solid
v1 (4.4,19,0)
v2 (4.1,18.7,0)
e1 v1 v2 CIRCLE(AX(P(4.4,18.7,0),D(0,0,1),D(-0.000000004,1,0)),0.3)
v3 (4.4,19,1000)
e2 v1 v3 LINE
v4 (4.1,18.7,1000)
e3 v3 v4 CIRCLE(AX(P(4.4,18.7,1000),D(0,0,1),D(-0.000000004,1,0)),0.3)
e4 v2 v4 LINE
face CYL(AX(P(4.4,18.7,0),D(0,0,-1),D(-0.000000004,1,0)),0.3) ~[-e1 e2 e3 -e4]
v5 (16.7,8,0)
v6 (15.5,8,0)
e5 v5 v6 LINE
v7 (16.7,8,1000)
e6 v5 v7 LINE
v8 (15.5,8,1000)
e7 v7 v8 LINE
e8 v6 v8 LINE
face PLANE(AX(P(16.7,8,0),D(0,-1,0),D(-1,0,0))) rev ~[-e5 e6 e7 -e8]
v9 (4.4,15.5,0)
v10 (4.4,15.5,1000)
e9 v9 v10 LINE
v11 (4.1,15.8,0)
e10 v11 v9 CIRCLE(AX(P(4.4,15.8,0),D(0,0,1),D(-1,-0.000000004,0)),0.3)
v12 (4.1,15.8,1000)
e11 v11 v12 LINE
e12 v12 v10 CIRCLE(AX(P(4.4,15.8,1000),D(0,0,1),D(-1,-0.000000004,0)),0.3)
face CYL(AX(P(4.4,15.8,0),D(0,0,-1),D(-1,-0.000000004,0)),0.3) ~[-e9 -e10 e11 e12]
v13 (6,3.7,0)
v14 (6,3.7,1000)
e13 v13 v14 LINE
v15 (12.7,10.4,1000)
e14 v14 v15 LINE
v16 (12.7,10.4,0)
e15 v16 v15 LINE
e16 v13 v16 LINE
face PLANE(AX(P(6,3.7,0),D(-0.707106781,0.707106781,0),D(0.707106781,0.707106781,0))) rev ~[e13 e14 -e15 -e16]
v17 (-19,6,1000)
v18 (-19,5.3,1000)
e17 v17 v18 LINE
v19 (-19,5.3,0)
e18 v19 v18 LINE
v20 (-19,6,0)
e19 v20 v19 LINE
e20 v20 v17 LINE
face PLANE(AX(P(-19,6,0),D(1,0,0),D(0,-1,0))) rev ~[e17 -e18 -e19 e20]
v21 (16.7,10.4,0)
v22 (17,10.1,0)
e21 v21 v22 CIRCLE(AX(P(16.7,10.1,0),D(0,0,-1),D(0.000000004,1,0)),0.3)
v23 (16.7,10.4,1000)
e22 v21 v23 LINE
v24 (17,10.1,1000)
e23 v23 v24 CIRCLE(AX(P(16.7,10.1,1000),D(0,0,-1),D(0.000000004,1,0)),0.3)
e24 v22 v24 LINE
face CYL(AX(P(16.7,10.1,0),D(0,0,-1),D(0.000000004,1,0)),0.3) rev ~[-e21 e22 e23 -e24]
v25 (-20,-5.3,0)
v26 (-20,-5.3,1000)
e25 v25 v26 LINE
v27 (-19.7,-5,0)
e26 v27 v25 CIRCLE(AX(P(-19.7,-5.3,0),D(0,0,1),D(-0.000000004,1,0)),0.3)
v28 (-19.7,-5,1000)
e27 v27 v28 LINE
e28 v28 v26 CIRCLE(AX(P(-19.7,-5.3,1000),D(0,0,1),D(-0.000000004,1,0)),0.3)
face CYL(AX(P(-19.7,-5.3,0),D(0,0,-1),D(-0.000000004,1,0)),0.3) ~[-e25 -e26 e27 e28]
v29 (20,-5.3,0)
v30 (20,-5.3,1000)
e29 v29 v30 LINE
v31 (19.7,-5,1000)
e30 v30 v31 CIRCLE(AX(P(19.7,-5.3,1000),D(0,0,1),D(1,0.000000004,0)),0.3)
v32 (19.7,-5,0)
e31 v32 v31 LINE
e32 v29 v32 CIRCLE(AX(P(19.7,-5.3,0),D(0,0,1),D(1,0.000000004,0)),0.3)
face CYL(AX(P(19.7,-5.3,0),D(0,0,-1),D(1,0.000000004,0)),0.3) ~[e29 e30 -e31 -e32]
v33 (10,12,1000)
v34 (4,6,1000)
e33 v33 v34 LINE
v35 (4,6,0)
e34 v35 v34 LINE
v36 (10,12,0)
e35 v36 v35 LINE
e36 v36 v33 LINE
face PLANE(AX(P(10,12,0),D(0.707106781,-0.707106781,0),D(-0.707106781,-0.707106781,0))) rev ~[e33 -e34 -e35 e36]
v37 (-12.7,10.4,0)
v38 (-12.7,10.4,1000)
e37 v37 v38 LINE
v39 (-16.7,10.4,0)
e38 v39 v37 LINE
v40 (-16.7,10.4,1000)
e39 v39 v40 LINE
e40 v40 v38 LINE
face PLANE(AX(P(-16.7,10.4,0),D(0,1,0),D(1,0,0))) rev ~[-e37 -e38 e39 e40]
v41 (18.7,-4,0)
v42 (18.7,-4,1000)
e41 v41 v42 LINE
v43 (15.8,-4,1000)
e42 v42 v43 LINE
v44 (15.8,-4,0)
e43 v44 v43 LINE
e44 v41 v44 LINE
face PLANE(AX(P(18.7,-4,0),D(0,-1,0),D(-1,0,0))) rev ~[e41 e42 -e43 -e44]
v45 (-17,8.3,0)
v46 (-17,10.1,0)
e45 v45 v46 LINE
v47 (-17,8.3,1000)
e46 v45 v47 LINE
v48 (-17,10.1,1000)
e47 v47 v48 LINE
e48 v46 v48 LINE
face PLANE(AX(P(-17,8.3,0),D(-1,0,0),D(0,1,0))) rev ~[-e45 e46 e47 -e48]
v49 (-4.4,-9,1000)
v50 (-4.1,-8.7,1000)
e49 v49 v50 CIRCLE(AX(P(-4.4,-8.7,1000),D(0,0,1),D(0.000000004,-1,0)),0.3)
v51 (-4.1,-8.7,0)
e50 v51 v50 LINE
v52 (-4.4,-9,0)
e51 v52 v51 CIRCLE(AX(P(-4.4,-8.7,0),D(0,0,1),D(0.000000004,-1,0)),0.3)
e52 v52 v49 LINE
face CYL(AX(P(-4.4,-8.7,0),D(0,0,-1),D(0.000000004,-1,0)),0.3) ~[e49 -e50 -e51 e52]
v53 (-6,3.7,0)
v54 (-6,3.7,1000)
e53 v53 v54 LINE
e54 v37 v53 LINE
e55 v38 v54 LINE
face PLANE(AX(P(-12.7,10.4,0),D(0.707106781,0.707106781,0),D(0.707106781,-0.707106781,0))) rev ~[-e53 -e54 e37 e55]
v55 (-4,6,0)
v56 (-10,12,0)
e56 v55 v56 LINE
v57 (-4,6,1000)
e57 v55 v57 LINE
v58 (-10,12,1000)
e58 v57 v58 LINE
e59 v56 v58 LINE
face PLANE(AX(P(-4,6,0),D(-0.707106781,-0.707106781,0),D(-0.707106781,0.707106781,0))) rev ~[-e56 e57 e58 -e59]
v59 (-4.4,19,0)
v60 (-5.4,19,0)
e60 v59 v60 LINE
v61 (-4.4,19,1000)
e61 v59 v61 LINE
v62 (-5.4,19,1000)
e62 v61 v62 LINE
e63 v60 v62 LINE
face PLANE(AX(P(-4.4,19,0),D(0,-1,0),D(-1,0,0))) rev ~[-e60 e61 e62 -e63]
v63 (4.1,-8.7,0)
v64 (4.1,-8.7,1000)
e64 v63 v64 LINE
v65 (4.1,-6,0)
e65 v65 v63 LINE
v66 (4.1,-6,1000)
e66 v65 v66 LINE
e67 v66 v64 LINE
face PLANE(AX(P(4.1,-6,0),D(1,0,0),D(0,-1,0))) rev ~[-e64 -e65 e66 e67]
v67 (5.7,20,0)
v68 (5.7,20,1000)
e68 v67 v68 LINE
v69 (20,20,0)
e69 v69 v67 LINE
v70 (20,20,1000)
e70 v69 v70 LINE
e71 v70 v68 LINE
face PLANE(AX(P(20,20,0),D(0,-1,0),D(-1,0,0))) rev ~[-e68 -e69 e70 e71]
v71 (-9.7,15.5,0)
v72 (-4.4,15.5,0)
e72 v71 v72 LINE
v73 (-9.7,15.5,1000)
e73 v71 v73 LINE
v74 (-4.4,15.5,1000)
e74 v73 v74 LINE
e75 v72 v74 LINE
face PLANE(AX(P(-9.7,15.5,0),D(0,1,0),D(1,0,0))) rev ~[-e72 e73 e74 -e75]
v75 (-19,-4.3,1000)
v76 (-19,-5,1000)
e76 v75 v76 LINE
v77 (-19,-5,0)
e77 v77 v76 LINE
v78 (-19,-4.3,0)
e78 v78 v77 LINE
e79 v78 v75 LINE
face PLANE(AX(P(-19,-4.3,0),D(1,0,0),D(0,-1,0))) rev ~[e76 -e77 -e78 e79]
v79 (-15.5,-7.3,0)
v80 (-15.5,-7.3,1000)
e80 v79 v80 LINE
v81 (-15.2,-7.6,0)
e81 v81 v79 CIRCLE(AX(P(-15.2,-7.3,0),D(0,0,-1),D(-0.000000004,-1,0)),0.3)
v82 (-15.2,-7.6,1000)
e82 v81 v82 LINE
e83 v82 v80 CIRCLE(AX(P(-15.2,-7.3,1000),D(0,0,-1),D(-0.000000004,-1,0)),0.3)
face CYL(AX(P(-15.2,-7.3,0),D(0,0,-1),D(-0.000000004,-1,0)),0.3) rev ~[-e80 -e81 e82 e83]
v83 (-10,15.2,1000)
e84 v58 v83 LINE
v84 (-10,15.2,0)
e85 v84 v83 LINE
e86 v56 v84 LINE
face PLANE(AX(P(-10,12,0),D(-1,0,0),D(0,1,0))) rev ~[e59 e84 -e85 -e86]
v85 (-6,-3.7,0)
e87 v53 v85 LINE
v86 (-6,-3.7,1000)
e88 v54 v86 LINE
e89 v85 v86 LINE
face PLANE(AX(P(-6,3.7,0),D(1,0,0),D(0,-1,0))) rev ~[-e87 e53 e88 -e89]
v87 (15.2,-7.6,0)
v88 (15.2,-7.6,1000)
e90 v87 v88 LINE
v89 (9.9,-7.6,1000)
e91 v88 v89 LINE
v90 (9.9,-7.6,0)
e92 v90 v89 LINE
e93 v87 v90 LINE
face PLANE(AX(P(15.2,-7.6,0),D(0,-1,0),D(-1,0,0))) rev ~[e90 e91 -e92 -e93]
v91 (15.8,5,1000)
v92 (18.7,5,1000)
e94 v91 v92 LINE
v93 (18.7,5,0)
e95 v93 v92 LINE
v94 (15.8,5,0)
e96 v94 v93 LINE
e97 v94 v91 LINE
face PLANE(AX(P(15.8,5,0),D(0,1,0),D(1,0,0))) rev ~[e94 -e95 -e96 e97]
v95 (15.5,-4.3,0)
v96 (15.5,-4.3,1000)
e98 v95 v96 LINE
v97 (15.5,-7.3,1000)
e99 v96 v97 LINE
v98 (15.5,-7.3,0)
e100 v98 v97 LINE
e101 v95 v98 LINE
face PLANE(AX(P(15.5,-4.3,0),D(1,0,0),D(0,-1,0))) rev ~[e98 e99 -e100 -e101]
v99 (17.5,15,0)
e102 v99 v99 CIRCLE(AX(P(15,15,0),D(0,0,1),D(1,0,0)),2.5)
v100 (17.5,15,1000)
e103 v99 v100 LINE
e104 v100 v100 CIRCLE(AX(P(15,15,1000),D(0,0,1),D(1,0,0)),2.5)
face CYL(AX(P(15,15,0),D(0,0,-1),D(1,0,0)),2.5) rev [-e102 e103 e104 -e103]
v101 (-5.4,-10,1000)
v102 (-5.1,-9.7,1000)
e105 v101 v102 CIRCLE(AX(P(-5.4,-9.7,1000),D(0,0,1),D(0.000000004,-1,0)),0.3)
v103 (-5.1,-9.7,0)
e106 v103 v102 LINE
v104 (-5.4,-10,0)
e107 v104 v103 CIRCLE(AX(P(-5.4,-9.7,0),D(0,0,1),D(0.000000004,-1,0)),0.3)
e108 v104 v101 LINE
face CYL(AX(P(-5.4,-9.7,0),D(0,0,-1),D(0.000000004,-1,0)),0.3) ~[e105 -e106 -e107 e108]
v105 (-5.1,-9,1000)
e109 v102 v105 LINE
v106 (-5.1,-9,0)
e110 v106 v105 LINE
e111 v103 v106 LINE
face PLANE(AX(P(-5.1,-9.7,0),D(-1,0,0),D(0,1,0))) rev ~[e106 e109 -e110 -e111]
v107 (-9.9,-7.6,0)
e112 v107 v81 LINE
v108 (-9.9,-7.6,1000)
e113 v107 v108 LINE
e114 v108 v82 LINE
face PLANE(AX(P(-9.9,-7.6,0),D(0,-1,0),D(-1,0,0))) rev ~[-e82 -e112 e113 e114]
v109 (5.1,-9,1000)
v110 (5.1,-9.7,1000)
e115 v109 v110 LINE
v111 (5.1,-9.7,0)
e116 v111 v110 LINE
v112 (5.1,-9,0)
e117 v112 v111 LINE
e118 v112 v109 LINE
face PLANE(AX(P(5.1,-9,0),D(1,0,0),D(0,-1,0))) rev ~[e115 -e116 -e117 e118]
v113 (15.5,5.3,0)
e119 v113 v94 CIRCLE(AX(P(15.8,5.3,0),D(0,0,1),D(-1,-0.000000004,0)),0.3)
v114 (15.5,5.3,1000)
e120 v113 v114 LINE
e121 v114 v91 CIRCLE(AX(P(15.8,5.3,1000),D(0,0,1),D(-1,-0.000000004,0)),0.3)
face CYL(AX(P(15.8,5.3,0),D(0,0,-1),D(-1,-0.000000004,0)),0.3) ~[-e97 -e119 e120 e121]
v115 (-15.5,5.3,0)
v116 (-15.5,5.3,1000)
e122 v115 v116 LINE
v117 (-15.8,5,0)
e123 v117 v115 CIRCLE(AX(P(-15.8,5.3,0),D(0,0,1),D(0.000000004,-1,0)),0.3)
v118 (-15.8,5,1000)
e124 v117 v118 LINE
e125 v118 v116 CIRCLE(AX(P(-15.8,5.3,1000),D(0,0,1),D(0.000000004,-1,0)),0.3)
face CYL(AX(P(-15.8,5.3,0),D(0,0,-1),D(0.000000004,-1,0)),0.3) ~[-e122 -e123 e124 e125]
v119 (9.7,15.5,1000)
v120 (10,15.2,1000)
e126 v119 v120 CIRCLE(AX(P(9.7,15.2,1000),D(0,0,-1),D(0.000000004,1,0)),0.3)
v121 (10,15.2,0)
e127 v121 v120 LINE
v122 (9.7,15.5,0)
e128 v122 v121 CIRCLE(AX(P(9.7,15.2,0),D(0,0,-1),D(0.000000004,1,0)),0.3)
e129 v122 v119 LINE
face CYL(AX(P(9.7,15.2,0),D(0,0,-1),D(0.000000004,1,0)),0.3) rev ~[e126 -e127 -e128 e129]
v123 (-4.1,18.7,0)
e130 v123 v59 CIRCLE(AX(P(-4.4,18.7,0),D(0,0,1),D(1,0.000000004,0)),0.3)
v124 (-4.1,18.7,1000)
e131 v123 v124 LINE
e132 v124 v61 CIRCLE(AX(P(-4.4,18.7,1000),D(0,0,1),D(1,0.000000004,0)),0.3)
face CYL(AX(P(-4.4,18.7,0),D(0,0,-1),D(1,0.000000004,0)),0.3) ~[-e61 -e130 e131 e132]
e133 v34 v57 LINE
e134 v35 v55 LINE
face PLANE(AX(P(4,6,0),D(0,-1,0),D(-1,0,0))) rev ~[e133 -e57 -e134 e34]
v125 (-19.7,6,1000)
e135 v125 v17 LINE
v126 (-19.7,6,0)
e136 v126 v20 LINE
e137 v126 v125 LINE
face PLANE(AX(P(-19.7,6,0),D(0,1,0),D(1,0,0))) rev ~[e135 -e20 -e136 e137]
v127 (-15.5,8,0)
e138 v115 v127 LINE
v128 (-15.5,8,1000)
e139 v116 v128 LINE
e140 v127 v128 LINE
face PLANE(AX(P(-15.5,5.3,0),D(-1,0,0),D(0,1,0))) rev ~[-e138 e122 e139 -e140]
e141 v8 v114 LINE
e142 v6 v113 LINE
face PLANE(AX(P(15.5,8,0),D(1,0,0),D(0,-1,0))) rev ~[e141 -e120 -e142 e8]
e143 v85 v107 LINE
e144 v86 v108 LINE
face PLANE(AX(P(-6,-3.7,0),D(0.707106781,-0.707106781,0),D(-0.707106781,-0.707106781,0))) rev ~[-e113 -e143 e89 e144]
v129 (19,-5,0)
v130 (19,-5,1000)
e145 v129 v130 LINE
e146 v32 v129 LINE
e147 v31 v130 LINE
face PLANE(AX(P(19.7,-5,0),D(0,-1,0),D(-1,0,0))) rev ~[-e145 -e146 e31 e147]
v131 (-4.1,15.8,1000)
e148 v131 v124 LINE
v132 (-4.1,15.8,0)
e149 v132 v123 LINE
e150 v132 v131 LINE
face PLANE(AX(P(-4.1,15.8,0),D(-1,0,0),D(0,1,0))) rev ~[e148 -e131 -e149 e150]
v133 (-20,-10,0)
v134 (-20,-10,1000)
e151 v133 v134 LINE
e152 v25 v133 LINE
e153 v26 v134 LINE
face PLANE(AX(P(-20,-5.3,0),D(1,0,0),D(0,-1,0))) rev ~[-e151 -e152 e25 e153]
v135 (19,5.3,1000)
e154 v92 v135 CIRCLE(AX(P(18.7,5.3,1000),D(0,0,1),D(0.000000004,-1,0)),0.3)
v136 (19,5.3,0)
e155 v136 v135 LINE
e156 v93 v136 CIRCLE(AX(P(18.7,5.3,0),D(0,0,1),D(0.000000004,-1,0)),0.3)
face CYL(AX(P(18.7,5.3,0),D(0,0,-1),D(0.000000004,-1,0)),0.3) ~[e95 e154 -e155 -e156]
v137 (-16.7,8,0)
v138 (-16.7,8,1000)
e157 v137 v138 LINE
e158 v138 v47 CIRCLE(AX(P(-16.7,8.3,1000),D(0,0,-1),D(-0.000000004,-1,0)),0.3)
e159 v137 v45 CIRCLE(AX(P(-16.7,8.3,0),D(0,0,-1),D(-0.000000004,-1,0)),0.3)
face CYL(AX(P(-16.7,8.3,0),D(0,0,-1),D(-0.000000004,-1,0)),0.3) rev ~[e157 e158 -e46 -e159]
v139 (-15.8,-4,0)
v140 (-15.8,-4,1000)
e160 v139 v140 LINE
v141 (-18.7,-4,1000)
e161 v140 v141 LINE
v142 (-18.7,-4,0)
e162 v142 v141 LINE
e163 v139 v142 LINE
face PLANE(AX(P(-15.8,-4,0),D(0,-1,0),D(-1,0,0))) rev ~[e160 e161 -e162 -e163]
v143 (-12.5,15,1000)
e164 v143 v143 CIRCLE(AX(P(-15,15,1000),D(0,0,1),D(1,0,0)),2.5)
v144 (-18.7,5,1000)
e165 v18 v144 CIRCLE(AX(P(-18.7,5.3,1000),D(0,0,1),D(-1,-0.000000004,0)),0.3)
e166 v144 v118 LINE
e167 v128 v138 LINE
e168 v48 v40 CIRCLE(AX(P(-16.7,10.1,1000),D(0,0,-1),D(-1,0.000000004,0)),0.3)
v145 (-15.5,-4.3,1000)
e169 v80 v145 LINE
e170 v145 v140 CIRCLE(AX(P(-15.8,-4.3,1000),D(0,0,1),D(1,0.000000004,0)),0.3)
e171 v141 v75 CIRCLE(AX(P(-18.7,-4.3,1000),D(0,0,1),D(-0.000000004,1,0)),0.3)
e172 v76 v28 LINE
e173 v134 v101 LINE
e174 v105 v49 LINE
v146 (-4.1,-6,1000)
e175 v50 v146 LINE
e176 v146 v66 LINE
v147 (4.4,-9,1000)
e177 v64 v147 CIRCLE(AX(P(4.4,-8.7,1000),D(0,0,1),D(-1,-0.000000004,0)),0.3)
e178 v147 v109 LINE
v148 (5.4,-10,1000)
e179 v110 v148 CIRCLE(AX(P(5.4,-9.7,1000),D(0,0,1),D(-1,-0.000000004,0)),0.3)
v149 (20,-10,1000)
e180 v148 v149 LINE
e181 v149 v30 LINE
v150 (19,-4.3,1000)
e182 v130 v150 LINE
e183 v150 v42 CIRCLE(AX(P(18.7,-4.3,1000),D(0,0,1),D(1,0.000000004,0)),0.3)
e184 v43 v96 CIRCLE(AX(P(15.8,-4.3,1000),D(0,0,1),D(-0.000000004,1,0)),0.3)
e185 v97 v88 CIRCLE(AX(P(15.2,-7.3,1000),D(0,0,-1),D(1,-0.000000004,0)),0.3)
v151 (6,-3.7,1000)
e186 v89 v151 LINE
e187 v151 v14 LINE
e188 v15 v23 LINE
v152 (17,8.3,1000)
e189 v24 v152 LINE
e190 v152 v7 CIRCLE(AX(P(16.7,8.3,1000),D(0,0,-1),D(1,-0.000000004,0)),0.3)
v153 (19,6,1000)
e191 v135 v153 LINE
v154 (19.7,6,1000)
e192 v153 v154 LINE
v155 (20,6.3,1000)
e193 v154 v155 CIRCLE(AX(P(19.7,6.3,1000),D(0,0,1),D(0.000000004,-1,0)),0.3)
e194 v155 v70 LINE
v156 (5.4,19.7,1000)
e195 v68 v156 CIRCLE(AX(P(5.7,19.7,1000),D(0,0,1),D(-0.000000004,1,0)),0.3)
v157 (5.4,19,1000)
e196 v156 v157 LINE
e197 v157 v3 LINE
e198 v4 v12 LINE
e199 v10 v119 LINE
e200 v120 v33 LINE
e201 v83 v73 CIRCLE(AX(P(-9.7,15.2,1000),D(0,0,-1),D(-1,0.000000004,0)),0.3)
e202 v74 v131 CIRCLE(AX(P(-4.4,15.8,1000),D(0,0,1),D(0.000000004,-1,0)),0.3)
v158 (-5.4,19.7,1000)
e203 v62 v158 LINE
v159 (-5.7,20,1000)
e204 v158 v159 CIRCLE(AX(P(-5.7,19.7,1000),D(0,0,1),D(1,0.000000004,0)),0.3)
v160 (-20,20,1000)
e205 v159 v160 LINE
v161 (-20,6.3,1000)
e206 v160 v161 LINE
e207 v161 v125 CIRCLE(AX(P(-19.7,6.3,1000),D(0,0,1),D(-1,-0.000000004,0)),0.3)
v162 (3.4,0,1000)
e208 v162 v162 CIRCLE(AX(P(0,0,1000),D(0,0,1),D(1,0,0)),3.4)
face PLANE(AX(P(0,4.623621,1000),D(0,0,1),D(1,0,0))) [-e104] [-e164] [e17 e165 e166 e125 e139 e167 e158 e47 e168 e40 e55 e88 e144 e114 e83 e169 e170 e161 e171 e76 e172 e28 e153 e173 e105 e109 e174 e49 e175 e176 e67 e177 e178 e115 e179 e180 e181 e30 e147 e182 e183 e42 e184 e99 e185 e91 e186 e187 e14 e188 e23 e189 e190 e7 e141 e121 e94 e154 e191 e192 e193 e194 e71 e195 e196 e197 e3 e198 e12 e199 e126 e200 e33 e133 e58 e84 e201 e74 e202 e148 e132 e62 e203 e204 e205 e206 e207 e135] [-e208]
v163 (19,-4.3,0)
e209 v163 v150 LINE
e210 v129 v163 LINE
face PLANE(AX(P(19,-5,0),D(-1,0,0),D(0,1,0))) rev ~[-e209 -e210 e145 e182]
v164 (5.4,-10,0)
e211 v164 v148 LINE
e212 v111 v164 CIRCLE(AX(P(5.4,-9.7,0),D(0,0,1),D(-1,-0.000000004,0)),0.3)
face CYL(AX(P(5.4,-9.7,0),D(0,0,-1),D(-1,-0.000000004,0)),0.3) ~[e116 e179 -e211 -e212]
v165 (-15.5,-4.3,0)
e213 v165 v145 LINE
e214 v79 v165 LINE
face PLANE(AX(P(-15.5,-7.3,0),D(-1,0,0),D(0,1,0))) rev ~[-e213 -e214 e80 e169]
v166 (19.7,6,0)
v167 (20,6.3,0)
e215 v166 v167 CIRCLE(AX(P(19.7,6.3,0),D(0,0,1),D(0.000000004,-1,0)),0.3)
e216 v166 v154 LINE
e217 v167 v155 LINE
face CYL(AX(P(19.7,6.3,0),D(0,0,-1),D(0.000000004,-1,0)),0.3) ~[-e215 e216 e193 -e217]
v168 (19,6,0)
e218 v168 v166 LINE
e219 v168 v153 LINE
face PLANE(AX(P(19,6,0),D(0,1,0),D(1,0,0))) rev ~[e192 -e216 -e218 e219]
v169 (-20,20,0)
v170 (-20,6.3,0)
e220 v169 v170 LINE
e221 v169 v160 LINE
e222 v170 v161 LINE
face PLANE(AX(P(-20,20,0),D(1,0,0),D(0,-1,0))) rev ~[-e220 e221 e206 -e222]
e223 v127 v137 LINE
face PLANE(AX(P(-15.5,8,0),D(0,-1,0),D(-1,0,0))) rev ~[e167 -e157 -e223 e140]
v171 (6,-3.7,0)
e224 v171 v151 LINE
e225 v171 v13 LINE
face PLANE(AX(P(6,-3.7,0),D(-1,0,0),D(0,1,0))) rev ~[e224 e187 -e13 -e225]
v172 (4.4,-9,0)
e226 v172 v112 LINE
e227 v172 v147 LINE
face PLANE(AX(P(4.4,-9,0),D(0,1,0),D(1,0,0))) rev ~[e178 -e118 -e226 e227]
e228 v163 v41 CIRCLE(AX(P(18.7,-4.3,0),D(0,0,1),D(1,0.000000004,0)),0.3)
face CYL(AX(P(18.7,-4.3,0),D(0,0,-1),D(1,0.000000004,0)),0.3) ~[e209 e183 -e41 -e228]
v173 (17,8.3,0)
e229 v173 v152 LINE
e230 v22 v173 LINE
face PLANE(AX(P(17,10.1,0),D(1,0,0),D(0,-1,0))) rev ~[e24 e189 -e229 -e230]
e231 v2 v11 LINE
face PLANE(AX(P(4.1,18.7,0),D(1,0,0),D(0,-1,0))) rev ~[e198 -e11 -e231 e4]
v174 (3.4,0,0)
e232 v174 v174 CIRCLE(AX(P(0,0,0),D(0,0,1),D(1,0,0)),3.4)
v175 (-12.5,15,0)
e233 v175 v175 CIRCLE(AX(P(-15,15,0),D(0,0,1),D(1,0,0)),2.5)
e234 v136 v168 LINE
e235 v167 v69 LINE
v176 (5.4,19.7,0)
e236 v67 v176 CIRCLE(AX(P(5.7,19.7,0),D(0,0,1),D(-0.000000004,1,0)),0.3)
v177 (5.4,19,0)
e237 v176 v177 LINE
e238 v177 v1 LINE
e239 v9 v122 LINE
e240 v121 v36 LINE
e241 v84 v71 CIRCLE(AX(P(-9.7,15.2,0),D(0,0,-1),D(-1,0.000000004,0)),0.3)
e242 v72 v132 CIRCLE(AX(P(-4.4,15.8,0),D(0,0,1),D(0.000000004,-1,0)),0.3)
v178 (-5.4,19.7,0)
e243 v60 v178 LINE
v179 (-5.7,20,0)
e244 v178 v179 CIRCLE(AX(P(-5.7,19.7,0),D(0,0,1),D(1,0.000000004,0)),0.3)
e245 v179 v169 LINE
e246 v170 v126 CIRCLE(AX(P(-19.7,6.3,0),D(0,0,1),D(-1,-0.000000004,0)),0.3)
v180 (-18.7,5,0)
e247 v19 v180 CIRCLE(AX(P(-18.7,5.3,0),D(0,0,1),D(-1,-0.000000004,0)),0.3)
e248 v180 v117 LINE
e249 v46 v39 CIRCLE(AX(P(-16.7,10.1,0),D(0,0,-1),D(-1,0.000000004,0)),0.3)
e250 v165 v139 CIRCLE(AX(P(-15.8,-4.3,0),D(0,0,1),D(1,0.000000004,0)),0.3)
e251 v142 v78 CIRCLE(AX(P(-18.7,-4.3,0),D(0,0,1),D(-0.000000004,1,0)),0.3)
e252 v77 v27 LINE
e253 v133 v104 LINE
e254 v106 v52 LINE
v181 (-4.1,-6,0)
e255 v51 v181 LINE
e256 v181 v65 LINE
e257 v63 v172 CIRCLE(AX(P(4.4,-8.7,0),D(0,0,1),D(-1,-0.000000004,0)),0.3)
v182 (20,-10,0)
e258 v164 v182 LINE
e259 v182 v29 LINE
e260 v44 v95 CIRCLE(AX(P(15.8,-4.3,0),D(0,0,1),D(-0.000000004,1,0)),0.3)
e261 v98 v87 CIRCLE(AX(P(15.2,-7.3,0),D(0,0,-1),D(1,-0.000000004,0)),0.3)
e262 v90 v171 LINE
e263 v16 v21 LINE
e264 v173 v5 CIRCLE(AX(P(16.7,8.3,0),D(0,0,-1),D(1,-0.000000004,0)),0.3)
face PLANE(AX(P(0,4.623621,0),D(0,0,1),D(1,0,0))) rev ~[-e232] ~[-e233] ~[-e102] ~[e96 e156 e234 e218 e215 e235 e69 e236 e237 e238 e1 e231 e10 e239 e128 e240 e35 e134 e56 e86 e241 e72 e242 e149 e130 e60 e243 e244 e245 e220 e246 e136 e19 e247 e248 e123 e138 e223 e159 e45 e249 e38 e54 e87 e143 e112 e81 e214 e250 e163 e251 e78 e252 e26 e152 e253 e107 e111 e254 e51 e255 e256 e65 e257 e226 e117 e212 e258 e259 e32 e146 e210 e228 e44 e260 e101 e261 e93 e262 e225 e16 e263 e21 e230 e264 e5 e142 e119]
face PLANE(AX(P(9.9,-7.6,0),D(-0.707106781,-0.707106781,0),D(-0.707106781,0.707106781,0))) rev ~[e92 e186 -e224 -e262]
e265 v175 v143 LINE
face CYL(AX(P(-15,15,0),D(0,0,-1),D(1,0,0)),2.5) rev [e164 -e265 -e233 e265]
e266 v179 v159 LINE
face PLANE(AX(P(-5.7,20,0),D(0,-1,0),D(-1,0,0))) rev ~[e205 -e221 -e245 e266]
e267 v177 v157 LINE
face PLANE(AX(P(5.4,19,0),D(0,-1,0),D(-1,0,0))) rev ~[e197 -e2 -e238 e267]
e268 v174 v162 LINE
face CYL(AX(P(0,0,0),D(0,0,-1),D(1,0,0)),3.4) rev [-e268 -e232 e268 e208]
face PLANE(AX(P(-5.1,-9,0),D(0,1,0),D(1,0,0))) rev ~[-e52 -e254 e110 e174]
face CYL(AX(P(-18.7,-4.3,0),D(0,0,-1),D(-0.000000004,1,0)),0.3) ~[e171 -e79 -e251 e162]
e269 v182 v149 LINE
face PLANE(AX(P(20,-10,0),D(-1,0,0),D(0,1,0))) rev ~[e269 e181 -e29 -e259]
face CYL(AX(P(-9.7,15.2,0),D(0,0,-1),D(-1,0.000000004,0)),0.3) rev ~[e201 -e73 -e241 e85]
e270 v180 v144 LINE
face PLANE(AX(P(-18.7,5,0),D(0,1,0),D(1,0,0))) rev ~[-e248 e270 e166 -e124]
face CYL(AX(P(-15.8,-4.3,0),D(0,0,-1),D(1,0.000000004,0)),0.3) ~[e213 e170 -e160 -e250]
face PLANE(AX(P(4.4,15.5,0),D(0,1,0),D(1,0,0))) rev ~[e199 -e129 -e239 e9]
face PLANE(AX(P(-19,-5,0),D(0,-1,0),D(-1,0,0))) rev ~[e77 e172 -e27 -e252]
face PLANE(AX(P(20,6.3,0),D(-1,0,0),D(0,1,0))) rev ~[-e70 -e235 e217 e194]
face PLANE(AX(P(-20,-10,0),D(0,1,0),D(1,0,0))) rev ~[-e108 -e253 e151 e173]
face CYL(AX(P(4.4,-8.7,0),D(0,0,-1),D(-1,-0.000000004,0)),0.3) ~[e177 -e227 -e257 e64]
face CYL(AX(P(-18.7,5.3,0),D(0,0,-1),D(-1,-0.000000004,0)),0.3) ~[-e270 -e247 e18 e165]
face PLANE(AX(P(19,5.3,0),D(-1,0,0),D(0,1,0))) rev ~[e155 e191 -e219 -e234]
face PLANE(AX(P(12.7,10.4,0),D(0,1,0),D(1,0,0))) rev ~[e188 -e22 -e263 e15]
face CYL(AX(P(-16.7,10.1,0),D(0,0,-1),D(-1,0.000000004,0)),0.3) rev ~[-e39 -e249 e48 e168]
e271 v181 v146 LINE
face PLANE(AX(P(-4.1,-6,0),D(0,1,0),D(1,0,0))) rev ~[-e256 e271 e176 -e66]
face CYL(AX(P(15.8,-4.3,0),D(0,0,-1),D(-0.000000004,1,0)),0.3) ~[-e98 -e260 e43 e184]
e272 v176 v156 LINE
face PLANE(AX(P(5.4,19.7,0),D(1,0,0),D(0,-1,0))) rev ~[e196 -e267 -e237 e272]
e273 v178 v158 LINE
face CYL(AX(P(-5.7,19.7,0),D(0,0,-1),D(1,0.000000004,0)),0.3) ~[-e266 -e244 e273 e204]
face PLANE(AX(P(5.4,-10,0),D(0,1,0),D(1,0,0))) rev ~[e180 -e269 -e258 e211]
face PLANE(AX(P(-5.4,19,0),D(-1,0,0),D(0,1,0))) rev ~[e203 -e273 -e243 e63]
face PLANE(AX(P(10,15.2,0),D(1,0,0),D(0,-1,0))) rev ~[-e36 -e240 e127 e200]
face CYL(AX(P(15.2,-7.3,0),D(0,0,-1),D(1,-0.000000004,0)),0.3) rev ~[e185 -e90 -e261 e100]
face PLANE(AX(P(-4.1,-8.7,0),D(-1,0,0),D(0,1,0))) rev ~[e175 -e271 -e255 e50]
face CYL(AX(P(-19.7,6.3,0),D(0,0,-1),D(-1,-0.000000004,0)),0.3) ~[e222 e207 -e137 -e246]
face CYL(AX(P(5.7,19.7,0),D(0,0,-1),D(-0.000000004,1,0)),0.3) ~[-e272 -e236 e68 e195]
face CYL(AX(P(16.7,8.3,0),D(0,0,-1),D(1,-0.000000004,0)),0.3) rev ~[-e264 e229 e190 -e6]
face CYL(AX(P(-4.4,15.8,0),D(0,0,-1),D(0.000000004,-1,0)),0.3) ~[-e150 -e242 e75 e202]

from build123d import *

# Parameters (mm, degrees)
SKETCH_1_R      = 3.4
SKETCH_1_R_2    = 2.5
EXTRUDE_1_DEPTH = 1000


with BuildPart() as part:
    # Эскиз1 → Бобышка-Вытянуть1 (new body)
    with BuildSketch(Plane.XY):
        with BuildLine():
            Line((-10, 20), (-20, 20))
            Line((-20, 20), (-20, 6.3))
            ThreePointArc((-20, 6.3), (-19.912132034, 6.087867966), (-19.7, 6))
            Line((-19.7, 6), (-19, 6))
            Line((-19, 6), (-19, 5.3))
            ThreePointArc((-19, 5.3), (-18.912132034, 5.087867966), (-18.7, 5))
            Line((-18.7, 5), (-15.8, 5))
            ThreePointArc((-15.8, 5), (-15.587867966, 5.087867966), (-15.5, 5.3))
            Line((-15.5, 5.3), (-15.5, 8))
            Line((-15.5, 8), (-16.7, 8))
            ThreePointArc((-16.7, 8), (-16.912132034, 8.087867966), (-17, 8.3))
            Line((-17, 8.3), (-17, 10.1))
            ThreePointArc((-17, 10.1), (-16.912132034, 10.312132034), (-16.7, 10.4))
            Line((-16.7, 10.4), (-12.7, 10.4))
            Line((-12.7, 10.4), (-6, 3.7))
            Line((-6, 3.7), (-6, -3.7))
            Line((-6, -3.7), (-9.9, -7.6))
            Line((-9.9, -7.6), (-15.2, -7.6))
            ThreePointArc((-15.2, -7.6), (-15.412132034, -7.512132034), (-15.5, -7.3))
            Line((-15.5, -7.3), (-15.5, -4.3))
            ThreePointArc((-15.5, -4.3), (-15.587867966, -4.087867966), (-15.8, -4))
            Line((-15.8, -4), (-18.7, -4))
            ThreePointArc((-18.7, -4), (-18.912132034, -4.087867966), (-19, -4.3))
            Line((-19, -4.3), (-19, -5))
            Line((-19, -5), (-19.7, -5))
            ThreePointArc((-19.7, -5), (-19.912132034, -5.087867966), (-20, -5.3))
            Line((-20, -5.3), (-20, -10))
            Line((-20, -10), (-5.4, -10))
            ThreePointArc((-5.4, -10), (-5.187867966, -9.912132034), (-5.1, -9.7))
            Line((-5.1, -9.7), (-5.1, -9))
            Line((-5.1, -9), (-4.4, -9))
            ThreePointArc((-4.4, -9), (-4.187867966, -8.912132034), (-4.1, -8.7))
            Line((-4.1, -8.7), (-4.1, -6))
            Line((-4.1, -6), (4.1, -6))
            Line((4.1, -6), (4.1, -8.7))
            ThreePointArc((4.1, -8.7), (4.187867966, -8.912132034), (4.4, -9))
            Line((4.4, -9), (5.1, -9))
            Line((5.1, -9), (5.1, -9.7))
            ThreePointArc((5.1, -9.7), (5.187867966, -9.912132034), (5.4, -10))
            Line((5.4, -10), (20, -10))
            Line((20, -10), (20, -5.3))
            ThreePointArc((20, -5.3), (19.912132034, -5.087867966), (19.7, -5))
            Line((19.7, -5), (19, -5))
            Line((19, -5), (19, -4.3))
            ThreePointArc((19, -4.3), (18.912132034, -4.087867966), (18.7, -4))
            Line((18.7, -4), (15.8, -4))
            ThreePointArc((15.8, -4), (15.587867966, -4.087867966), (15.5, -4.3))
            Line((15.5, -4.3), (15.5, -7.3))
            ThreePointArc((15.5, -7.3), (15.412132034, -7.512132034), (15.2, -7.6))
            Line((15.2, -7.6), (9.9, -7.6))
            Line((9.9, -7.6), (6, -3.7))
            Line((6, -3.7), (6, 3.7))
            Line((6, 3.7), (12.7, 10.4))
            Line((12.7, 10.4), (16.7, 10.4))
            ThreePointArc((16.7, 10.4), (16.912132034, 10.312132034), (17, 10.1))
            Line((17, 10.1), (17, 8.3))
            ThreePointArc((17, 8.3), (16.912132034, 8.087867966), (16.7, 8))
            Line((16.7, 8), (15.5, 8))
            Line((15.5, 8), (15.5, 5.3))
            ThreePointArc((15.5, 5.3), (15.587867966, 5.087867966), (15.8, 5))
            Line((15.8, 5), (18.7, 5))
            ThreePointArc((18.7, 5), (18.912132034, 5.087867966), (19, 5.3))
            Line((19, 5.3), (19, 6))
            Line((19, 6), (19.7, 6))
            ThreePointArc((19.7, 6), (19.912132034, 6.087867966), (20, 6.3))
            Line((20, 6.3), (20, 20))
            Line((20, 20), (10, 20))
            Line((10, 20), (5.7, 20))
            ThreePointArc((5.7, 20), (5.487867966, 19.912132034), (5.4, 19.7))
            Line((5.4, 19.7), (5.4, 19))
            Line((5.4, 19), (4.4, 19))
            ThreePointArc((4.4, 19), (4.187867966, 18.912132034), (4.1, 18.7))
            Line((4.1, 18.7), (4.1, 15.8))
            ThreePointArc((4.1, 15.8), (4.187867966, 15.587867966), (4.4, 15.5))
            Line((4.4, 15.5), (9.7, 15.5))
            ThreePointArc((9.7, 15.5), (9.912132034, 15.412132034), (10, 15.2))
            Line((10, 15.2), (10, 12))
            Line((10, 12), (4, 6))
            Line((4, 6), (-4, 6))
            Line((-4, 6), (-10, 12))
            Line((-10, 12), (-10, 15.2))
            ThreePointArc((-10, 15.2), (-9.912132034, 15.412132034), (-9.7, 15.5))
            Line((-9.7, 15.5), (-4.4, 15.5))
            ThreePointArc((-4.4, 15.5), (-4.187867966, 15.587867966), (-4.1, 15.8))
            Line((-4.1, 15.8), (-4.1, 18.7))
            ThreePointArc((-4.1, 18.7), (-4.187867966, 18.912132034), (-4.4, 19))
            Line((-4.4, 19), (-5.4, 19))
            Line((-5.4, 19), (-5.4, 19.7))
            ThreePointArc((-5.4, 19.7), (-5.487867966, 19.912132034), (-5.7, 20))
            Line((-5.7, 20), (-10, 20))
        make_face()
        Circle(SKETCH_1_R, mode=Mode.SUBTRACT)
        with Locations((15, 15)):
            Circle(SKETCH_1_R_2, mode=Mode.SUBTRACT)
        with Locations((-15, 15)):
            Circle(SKETCH_1_R_2, mode=Mode.SUBTRACT)
    extrude(amount=EXTRUDE_1_DEPTH)


solid = part.part
